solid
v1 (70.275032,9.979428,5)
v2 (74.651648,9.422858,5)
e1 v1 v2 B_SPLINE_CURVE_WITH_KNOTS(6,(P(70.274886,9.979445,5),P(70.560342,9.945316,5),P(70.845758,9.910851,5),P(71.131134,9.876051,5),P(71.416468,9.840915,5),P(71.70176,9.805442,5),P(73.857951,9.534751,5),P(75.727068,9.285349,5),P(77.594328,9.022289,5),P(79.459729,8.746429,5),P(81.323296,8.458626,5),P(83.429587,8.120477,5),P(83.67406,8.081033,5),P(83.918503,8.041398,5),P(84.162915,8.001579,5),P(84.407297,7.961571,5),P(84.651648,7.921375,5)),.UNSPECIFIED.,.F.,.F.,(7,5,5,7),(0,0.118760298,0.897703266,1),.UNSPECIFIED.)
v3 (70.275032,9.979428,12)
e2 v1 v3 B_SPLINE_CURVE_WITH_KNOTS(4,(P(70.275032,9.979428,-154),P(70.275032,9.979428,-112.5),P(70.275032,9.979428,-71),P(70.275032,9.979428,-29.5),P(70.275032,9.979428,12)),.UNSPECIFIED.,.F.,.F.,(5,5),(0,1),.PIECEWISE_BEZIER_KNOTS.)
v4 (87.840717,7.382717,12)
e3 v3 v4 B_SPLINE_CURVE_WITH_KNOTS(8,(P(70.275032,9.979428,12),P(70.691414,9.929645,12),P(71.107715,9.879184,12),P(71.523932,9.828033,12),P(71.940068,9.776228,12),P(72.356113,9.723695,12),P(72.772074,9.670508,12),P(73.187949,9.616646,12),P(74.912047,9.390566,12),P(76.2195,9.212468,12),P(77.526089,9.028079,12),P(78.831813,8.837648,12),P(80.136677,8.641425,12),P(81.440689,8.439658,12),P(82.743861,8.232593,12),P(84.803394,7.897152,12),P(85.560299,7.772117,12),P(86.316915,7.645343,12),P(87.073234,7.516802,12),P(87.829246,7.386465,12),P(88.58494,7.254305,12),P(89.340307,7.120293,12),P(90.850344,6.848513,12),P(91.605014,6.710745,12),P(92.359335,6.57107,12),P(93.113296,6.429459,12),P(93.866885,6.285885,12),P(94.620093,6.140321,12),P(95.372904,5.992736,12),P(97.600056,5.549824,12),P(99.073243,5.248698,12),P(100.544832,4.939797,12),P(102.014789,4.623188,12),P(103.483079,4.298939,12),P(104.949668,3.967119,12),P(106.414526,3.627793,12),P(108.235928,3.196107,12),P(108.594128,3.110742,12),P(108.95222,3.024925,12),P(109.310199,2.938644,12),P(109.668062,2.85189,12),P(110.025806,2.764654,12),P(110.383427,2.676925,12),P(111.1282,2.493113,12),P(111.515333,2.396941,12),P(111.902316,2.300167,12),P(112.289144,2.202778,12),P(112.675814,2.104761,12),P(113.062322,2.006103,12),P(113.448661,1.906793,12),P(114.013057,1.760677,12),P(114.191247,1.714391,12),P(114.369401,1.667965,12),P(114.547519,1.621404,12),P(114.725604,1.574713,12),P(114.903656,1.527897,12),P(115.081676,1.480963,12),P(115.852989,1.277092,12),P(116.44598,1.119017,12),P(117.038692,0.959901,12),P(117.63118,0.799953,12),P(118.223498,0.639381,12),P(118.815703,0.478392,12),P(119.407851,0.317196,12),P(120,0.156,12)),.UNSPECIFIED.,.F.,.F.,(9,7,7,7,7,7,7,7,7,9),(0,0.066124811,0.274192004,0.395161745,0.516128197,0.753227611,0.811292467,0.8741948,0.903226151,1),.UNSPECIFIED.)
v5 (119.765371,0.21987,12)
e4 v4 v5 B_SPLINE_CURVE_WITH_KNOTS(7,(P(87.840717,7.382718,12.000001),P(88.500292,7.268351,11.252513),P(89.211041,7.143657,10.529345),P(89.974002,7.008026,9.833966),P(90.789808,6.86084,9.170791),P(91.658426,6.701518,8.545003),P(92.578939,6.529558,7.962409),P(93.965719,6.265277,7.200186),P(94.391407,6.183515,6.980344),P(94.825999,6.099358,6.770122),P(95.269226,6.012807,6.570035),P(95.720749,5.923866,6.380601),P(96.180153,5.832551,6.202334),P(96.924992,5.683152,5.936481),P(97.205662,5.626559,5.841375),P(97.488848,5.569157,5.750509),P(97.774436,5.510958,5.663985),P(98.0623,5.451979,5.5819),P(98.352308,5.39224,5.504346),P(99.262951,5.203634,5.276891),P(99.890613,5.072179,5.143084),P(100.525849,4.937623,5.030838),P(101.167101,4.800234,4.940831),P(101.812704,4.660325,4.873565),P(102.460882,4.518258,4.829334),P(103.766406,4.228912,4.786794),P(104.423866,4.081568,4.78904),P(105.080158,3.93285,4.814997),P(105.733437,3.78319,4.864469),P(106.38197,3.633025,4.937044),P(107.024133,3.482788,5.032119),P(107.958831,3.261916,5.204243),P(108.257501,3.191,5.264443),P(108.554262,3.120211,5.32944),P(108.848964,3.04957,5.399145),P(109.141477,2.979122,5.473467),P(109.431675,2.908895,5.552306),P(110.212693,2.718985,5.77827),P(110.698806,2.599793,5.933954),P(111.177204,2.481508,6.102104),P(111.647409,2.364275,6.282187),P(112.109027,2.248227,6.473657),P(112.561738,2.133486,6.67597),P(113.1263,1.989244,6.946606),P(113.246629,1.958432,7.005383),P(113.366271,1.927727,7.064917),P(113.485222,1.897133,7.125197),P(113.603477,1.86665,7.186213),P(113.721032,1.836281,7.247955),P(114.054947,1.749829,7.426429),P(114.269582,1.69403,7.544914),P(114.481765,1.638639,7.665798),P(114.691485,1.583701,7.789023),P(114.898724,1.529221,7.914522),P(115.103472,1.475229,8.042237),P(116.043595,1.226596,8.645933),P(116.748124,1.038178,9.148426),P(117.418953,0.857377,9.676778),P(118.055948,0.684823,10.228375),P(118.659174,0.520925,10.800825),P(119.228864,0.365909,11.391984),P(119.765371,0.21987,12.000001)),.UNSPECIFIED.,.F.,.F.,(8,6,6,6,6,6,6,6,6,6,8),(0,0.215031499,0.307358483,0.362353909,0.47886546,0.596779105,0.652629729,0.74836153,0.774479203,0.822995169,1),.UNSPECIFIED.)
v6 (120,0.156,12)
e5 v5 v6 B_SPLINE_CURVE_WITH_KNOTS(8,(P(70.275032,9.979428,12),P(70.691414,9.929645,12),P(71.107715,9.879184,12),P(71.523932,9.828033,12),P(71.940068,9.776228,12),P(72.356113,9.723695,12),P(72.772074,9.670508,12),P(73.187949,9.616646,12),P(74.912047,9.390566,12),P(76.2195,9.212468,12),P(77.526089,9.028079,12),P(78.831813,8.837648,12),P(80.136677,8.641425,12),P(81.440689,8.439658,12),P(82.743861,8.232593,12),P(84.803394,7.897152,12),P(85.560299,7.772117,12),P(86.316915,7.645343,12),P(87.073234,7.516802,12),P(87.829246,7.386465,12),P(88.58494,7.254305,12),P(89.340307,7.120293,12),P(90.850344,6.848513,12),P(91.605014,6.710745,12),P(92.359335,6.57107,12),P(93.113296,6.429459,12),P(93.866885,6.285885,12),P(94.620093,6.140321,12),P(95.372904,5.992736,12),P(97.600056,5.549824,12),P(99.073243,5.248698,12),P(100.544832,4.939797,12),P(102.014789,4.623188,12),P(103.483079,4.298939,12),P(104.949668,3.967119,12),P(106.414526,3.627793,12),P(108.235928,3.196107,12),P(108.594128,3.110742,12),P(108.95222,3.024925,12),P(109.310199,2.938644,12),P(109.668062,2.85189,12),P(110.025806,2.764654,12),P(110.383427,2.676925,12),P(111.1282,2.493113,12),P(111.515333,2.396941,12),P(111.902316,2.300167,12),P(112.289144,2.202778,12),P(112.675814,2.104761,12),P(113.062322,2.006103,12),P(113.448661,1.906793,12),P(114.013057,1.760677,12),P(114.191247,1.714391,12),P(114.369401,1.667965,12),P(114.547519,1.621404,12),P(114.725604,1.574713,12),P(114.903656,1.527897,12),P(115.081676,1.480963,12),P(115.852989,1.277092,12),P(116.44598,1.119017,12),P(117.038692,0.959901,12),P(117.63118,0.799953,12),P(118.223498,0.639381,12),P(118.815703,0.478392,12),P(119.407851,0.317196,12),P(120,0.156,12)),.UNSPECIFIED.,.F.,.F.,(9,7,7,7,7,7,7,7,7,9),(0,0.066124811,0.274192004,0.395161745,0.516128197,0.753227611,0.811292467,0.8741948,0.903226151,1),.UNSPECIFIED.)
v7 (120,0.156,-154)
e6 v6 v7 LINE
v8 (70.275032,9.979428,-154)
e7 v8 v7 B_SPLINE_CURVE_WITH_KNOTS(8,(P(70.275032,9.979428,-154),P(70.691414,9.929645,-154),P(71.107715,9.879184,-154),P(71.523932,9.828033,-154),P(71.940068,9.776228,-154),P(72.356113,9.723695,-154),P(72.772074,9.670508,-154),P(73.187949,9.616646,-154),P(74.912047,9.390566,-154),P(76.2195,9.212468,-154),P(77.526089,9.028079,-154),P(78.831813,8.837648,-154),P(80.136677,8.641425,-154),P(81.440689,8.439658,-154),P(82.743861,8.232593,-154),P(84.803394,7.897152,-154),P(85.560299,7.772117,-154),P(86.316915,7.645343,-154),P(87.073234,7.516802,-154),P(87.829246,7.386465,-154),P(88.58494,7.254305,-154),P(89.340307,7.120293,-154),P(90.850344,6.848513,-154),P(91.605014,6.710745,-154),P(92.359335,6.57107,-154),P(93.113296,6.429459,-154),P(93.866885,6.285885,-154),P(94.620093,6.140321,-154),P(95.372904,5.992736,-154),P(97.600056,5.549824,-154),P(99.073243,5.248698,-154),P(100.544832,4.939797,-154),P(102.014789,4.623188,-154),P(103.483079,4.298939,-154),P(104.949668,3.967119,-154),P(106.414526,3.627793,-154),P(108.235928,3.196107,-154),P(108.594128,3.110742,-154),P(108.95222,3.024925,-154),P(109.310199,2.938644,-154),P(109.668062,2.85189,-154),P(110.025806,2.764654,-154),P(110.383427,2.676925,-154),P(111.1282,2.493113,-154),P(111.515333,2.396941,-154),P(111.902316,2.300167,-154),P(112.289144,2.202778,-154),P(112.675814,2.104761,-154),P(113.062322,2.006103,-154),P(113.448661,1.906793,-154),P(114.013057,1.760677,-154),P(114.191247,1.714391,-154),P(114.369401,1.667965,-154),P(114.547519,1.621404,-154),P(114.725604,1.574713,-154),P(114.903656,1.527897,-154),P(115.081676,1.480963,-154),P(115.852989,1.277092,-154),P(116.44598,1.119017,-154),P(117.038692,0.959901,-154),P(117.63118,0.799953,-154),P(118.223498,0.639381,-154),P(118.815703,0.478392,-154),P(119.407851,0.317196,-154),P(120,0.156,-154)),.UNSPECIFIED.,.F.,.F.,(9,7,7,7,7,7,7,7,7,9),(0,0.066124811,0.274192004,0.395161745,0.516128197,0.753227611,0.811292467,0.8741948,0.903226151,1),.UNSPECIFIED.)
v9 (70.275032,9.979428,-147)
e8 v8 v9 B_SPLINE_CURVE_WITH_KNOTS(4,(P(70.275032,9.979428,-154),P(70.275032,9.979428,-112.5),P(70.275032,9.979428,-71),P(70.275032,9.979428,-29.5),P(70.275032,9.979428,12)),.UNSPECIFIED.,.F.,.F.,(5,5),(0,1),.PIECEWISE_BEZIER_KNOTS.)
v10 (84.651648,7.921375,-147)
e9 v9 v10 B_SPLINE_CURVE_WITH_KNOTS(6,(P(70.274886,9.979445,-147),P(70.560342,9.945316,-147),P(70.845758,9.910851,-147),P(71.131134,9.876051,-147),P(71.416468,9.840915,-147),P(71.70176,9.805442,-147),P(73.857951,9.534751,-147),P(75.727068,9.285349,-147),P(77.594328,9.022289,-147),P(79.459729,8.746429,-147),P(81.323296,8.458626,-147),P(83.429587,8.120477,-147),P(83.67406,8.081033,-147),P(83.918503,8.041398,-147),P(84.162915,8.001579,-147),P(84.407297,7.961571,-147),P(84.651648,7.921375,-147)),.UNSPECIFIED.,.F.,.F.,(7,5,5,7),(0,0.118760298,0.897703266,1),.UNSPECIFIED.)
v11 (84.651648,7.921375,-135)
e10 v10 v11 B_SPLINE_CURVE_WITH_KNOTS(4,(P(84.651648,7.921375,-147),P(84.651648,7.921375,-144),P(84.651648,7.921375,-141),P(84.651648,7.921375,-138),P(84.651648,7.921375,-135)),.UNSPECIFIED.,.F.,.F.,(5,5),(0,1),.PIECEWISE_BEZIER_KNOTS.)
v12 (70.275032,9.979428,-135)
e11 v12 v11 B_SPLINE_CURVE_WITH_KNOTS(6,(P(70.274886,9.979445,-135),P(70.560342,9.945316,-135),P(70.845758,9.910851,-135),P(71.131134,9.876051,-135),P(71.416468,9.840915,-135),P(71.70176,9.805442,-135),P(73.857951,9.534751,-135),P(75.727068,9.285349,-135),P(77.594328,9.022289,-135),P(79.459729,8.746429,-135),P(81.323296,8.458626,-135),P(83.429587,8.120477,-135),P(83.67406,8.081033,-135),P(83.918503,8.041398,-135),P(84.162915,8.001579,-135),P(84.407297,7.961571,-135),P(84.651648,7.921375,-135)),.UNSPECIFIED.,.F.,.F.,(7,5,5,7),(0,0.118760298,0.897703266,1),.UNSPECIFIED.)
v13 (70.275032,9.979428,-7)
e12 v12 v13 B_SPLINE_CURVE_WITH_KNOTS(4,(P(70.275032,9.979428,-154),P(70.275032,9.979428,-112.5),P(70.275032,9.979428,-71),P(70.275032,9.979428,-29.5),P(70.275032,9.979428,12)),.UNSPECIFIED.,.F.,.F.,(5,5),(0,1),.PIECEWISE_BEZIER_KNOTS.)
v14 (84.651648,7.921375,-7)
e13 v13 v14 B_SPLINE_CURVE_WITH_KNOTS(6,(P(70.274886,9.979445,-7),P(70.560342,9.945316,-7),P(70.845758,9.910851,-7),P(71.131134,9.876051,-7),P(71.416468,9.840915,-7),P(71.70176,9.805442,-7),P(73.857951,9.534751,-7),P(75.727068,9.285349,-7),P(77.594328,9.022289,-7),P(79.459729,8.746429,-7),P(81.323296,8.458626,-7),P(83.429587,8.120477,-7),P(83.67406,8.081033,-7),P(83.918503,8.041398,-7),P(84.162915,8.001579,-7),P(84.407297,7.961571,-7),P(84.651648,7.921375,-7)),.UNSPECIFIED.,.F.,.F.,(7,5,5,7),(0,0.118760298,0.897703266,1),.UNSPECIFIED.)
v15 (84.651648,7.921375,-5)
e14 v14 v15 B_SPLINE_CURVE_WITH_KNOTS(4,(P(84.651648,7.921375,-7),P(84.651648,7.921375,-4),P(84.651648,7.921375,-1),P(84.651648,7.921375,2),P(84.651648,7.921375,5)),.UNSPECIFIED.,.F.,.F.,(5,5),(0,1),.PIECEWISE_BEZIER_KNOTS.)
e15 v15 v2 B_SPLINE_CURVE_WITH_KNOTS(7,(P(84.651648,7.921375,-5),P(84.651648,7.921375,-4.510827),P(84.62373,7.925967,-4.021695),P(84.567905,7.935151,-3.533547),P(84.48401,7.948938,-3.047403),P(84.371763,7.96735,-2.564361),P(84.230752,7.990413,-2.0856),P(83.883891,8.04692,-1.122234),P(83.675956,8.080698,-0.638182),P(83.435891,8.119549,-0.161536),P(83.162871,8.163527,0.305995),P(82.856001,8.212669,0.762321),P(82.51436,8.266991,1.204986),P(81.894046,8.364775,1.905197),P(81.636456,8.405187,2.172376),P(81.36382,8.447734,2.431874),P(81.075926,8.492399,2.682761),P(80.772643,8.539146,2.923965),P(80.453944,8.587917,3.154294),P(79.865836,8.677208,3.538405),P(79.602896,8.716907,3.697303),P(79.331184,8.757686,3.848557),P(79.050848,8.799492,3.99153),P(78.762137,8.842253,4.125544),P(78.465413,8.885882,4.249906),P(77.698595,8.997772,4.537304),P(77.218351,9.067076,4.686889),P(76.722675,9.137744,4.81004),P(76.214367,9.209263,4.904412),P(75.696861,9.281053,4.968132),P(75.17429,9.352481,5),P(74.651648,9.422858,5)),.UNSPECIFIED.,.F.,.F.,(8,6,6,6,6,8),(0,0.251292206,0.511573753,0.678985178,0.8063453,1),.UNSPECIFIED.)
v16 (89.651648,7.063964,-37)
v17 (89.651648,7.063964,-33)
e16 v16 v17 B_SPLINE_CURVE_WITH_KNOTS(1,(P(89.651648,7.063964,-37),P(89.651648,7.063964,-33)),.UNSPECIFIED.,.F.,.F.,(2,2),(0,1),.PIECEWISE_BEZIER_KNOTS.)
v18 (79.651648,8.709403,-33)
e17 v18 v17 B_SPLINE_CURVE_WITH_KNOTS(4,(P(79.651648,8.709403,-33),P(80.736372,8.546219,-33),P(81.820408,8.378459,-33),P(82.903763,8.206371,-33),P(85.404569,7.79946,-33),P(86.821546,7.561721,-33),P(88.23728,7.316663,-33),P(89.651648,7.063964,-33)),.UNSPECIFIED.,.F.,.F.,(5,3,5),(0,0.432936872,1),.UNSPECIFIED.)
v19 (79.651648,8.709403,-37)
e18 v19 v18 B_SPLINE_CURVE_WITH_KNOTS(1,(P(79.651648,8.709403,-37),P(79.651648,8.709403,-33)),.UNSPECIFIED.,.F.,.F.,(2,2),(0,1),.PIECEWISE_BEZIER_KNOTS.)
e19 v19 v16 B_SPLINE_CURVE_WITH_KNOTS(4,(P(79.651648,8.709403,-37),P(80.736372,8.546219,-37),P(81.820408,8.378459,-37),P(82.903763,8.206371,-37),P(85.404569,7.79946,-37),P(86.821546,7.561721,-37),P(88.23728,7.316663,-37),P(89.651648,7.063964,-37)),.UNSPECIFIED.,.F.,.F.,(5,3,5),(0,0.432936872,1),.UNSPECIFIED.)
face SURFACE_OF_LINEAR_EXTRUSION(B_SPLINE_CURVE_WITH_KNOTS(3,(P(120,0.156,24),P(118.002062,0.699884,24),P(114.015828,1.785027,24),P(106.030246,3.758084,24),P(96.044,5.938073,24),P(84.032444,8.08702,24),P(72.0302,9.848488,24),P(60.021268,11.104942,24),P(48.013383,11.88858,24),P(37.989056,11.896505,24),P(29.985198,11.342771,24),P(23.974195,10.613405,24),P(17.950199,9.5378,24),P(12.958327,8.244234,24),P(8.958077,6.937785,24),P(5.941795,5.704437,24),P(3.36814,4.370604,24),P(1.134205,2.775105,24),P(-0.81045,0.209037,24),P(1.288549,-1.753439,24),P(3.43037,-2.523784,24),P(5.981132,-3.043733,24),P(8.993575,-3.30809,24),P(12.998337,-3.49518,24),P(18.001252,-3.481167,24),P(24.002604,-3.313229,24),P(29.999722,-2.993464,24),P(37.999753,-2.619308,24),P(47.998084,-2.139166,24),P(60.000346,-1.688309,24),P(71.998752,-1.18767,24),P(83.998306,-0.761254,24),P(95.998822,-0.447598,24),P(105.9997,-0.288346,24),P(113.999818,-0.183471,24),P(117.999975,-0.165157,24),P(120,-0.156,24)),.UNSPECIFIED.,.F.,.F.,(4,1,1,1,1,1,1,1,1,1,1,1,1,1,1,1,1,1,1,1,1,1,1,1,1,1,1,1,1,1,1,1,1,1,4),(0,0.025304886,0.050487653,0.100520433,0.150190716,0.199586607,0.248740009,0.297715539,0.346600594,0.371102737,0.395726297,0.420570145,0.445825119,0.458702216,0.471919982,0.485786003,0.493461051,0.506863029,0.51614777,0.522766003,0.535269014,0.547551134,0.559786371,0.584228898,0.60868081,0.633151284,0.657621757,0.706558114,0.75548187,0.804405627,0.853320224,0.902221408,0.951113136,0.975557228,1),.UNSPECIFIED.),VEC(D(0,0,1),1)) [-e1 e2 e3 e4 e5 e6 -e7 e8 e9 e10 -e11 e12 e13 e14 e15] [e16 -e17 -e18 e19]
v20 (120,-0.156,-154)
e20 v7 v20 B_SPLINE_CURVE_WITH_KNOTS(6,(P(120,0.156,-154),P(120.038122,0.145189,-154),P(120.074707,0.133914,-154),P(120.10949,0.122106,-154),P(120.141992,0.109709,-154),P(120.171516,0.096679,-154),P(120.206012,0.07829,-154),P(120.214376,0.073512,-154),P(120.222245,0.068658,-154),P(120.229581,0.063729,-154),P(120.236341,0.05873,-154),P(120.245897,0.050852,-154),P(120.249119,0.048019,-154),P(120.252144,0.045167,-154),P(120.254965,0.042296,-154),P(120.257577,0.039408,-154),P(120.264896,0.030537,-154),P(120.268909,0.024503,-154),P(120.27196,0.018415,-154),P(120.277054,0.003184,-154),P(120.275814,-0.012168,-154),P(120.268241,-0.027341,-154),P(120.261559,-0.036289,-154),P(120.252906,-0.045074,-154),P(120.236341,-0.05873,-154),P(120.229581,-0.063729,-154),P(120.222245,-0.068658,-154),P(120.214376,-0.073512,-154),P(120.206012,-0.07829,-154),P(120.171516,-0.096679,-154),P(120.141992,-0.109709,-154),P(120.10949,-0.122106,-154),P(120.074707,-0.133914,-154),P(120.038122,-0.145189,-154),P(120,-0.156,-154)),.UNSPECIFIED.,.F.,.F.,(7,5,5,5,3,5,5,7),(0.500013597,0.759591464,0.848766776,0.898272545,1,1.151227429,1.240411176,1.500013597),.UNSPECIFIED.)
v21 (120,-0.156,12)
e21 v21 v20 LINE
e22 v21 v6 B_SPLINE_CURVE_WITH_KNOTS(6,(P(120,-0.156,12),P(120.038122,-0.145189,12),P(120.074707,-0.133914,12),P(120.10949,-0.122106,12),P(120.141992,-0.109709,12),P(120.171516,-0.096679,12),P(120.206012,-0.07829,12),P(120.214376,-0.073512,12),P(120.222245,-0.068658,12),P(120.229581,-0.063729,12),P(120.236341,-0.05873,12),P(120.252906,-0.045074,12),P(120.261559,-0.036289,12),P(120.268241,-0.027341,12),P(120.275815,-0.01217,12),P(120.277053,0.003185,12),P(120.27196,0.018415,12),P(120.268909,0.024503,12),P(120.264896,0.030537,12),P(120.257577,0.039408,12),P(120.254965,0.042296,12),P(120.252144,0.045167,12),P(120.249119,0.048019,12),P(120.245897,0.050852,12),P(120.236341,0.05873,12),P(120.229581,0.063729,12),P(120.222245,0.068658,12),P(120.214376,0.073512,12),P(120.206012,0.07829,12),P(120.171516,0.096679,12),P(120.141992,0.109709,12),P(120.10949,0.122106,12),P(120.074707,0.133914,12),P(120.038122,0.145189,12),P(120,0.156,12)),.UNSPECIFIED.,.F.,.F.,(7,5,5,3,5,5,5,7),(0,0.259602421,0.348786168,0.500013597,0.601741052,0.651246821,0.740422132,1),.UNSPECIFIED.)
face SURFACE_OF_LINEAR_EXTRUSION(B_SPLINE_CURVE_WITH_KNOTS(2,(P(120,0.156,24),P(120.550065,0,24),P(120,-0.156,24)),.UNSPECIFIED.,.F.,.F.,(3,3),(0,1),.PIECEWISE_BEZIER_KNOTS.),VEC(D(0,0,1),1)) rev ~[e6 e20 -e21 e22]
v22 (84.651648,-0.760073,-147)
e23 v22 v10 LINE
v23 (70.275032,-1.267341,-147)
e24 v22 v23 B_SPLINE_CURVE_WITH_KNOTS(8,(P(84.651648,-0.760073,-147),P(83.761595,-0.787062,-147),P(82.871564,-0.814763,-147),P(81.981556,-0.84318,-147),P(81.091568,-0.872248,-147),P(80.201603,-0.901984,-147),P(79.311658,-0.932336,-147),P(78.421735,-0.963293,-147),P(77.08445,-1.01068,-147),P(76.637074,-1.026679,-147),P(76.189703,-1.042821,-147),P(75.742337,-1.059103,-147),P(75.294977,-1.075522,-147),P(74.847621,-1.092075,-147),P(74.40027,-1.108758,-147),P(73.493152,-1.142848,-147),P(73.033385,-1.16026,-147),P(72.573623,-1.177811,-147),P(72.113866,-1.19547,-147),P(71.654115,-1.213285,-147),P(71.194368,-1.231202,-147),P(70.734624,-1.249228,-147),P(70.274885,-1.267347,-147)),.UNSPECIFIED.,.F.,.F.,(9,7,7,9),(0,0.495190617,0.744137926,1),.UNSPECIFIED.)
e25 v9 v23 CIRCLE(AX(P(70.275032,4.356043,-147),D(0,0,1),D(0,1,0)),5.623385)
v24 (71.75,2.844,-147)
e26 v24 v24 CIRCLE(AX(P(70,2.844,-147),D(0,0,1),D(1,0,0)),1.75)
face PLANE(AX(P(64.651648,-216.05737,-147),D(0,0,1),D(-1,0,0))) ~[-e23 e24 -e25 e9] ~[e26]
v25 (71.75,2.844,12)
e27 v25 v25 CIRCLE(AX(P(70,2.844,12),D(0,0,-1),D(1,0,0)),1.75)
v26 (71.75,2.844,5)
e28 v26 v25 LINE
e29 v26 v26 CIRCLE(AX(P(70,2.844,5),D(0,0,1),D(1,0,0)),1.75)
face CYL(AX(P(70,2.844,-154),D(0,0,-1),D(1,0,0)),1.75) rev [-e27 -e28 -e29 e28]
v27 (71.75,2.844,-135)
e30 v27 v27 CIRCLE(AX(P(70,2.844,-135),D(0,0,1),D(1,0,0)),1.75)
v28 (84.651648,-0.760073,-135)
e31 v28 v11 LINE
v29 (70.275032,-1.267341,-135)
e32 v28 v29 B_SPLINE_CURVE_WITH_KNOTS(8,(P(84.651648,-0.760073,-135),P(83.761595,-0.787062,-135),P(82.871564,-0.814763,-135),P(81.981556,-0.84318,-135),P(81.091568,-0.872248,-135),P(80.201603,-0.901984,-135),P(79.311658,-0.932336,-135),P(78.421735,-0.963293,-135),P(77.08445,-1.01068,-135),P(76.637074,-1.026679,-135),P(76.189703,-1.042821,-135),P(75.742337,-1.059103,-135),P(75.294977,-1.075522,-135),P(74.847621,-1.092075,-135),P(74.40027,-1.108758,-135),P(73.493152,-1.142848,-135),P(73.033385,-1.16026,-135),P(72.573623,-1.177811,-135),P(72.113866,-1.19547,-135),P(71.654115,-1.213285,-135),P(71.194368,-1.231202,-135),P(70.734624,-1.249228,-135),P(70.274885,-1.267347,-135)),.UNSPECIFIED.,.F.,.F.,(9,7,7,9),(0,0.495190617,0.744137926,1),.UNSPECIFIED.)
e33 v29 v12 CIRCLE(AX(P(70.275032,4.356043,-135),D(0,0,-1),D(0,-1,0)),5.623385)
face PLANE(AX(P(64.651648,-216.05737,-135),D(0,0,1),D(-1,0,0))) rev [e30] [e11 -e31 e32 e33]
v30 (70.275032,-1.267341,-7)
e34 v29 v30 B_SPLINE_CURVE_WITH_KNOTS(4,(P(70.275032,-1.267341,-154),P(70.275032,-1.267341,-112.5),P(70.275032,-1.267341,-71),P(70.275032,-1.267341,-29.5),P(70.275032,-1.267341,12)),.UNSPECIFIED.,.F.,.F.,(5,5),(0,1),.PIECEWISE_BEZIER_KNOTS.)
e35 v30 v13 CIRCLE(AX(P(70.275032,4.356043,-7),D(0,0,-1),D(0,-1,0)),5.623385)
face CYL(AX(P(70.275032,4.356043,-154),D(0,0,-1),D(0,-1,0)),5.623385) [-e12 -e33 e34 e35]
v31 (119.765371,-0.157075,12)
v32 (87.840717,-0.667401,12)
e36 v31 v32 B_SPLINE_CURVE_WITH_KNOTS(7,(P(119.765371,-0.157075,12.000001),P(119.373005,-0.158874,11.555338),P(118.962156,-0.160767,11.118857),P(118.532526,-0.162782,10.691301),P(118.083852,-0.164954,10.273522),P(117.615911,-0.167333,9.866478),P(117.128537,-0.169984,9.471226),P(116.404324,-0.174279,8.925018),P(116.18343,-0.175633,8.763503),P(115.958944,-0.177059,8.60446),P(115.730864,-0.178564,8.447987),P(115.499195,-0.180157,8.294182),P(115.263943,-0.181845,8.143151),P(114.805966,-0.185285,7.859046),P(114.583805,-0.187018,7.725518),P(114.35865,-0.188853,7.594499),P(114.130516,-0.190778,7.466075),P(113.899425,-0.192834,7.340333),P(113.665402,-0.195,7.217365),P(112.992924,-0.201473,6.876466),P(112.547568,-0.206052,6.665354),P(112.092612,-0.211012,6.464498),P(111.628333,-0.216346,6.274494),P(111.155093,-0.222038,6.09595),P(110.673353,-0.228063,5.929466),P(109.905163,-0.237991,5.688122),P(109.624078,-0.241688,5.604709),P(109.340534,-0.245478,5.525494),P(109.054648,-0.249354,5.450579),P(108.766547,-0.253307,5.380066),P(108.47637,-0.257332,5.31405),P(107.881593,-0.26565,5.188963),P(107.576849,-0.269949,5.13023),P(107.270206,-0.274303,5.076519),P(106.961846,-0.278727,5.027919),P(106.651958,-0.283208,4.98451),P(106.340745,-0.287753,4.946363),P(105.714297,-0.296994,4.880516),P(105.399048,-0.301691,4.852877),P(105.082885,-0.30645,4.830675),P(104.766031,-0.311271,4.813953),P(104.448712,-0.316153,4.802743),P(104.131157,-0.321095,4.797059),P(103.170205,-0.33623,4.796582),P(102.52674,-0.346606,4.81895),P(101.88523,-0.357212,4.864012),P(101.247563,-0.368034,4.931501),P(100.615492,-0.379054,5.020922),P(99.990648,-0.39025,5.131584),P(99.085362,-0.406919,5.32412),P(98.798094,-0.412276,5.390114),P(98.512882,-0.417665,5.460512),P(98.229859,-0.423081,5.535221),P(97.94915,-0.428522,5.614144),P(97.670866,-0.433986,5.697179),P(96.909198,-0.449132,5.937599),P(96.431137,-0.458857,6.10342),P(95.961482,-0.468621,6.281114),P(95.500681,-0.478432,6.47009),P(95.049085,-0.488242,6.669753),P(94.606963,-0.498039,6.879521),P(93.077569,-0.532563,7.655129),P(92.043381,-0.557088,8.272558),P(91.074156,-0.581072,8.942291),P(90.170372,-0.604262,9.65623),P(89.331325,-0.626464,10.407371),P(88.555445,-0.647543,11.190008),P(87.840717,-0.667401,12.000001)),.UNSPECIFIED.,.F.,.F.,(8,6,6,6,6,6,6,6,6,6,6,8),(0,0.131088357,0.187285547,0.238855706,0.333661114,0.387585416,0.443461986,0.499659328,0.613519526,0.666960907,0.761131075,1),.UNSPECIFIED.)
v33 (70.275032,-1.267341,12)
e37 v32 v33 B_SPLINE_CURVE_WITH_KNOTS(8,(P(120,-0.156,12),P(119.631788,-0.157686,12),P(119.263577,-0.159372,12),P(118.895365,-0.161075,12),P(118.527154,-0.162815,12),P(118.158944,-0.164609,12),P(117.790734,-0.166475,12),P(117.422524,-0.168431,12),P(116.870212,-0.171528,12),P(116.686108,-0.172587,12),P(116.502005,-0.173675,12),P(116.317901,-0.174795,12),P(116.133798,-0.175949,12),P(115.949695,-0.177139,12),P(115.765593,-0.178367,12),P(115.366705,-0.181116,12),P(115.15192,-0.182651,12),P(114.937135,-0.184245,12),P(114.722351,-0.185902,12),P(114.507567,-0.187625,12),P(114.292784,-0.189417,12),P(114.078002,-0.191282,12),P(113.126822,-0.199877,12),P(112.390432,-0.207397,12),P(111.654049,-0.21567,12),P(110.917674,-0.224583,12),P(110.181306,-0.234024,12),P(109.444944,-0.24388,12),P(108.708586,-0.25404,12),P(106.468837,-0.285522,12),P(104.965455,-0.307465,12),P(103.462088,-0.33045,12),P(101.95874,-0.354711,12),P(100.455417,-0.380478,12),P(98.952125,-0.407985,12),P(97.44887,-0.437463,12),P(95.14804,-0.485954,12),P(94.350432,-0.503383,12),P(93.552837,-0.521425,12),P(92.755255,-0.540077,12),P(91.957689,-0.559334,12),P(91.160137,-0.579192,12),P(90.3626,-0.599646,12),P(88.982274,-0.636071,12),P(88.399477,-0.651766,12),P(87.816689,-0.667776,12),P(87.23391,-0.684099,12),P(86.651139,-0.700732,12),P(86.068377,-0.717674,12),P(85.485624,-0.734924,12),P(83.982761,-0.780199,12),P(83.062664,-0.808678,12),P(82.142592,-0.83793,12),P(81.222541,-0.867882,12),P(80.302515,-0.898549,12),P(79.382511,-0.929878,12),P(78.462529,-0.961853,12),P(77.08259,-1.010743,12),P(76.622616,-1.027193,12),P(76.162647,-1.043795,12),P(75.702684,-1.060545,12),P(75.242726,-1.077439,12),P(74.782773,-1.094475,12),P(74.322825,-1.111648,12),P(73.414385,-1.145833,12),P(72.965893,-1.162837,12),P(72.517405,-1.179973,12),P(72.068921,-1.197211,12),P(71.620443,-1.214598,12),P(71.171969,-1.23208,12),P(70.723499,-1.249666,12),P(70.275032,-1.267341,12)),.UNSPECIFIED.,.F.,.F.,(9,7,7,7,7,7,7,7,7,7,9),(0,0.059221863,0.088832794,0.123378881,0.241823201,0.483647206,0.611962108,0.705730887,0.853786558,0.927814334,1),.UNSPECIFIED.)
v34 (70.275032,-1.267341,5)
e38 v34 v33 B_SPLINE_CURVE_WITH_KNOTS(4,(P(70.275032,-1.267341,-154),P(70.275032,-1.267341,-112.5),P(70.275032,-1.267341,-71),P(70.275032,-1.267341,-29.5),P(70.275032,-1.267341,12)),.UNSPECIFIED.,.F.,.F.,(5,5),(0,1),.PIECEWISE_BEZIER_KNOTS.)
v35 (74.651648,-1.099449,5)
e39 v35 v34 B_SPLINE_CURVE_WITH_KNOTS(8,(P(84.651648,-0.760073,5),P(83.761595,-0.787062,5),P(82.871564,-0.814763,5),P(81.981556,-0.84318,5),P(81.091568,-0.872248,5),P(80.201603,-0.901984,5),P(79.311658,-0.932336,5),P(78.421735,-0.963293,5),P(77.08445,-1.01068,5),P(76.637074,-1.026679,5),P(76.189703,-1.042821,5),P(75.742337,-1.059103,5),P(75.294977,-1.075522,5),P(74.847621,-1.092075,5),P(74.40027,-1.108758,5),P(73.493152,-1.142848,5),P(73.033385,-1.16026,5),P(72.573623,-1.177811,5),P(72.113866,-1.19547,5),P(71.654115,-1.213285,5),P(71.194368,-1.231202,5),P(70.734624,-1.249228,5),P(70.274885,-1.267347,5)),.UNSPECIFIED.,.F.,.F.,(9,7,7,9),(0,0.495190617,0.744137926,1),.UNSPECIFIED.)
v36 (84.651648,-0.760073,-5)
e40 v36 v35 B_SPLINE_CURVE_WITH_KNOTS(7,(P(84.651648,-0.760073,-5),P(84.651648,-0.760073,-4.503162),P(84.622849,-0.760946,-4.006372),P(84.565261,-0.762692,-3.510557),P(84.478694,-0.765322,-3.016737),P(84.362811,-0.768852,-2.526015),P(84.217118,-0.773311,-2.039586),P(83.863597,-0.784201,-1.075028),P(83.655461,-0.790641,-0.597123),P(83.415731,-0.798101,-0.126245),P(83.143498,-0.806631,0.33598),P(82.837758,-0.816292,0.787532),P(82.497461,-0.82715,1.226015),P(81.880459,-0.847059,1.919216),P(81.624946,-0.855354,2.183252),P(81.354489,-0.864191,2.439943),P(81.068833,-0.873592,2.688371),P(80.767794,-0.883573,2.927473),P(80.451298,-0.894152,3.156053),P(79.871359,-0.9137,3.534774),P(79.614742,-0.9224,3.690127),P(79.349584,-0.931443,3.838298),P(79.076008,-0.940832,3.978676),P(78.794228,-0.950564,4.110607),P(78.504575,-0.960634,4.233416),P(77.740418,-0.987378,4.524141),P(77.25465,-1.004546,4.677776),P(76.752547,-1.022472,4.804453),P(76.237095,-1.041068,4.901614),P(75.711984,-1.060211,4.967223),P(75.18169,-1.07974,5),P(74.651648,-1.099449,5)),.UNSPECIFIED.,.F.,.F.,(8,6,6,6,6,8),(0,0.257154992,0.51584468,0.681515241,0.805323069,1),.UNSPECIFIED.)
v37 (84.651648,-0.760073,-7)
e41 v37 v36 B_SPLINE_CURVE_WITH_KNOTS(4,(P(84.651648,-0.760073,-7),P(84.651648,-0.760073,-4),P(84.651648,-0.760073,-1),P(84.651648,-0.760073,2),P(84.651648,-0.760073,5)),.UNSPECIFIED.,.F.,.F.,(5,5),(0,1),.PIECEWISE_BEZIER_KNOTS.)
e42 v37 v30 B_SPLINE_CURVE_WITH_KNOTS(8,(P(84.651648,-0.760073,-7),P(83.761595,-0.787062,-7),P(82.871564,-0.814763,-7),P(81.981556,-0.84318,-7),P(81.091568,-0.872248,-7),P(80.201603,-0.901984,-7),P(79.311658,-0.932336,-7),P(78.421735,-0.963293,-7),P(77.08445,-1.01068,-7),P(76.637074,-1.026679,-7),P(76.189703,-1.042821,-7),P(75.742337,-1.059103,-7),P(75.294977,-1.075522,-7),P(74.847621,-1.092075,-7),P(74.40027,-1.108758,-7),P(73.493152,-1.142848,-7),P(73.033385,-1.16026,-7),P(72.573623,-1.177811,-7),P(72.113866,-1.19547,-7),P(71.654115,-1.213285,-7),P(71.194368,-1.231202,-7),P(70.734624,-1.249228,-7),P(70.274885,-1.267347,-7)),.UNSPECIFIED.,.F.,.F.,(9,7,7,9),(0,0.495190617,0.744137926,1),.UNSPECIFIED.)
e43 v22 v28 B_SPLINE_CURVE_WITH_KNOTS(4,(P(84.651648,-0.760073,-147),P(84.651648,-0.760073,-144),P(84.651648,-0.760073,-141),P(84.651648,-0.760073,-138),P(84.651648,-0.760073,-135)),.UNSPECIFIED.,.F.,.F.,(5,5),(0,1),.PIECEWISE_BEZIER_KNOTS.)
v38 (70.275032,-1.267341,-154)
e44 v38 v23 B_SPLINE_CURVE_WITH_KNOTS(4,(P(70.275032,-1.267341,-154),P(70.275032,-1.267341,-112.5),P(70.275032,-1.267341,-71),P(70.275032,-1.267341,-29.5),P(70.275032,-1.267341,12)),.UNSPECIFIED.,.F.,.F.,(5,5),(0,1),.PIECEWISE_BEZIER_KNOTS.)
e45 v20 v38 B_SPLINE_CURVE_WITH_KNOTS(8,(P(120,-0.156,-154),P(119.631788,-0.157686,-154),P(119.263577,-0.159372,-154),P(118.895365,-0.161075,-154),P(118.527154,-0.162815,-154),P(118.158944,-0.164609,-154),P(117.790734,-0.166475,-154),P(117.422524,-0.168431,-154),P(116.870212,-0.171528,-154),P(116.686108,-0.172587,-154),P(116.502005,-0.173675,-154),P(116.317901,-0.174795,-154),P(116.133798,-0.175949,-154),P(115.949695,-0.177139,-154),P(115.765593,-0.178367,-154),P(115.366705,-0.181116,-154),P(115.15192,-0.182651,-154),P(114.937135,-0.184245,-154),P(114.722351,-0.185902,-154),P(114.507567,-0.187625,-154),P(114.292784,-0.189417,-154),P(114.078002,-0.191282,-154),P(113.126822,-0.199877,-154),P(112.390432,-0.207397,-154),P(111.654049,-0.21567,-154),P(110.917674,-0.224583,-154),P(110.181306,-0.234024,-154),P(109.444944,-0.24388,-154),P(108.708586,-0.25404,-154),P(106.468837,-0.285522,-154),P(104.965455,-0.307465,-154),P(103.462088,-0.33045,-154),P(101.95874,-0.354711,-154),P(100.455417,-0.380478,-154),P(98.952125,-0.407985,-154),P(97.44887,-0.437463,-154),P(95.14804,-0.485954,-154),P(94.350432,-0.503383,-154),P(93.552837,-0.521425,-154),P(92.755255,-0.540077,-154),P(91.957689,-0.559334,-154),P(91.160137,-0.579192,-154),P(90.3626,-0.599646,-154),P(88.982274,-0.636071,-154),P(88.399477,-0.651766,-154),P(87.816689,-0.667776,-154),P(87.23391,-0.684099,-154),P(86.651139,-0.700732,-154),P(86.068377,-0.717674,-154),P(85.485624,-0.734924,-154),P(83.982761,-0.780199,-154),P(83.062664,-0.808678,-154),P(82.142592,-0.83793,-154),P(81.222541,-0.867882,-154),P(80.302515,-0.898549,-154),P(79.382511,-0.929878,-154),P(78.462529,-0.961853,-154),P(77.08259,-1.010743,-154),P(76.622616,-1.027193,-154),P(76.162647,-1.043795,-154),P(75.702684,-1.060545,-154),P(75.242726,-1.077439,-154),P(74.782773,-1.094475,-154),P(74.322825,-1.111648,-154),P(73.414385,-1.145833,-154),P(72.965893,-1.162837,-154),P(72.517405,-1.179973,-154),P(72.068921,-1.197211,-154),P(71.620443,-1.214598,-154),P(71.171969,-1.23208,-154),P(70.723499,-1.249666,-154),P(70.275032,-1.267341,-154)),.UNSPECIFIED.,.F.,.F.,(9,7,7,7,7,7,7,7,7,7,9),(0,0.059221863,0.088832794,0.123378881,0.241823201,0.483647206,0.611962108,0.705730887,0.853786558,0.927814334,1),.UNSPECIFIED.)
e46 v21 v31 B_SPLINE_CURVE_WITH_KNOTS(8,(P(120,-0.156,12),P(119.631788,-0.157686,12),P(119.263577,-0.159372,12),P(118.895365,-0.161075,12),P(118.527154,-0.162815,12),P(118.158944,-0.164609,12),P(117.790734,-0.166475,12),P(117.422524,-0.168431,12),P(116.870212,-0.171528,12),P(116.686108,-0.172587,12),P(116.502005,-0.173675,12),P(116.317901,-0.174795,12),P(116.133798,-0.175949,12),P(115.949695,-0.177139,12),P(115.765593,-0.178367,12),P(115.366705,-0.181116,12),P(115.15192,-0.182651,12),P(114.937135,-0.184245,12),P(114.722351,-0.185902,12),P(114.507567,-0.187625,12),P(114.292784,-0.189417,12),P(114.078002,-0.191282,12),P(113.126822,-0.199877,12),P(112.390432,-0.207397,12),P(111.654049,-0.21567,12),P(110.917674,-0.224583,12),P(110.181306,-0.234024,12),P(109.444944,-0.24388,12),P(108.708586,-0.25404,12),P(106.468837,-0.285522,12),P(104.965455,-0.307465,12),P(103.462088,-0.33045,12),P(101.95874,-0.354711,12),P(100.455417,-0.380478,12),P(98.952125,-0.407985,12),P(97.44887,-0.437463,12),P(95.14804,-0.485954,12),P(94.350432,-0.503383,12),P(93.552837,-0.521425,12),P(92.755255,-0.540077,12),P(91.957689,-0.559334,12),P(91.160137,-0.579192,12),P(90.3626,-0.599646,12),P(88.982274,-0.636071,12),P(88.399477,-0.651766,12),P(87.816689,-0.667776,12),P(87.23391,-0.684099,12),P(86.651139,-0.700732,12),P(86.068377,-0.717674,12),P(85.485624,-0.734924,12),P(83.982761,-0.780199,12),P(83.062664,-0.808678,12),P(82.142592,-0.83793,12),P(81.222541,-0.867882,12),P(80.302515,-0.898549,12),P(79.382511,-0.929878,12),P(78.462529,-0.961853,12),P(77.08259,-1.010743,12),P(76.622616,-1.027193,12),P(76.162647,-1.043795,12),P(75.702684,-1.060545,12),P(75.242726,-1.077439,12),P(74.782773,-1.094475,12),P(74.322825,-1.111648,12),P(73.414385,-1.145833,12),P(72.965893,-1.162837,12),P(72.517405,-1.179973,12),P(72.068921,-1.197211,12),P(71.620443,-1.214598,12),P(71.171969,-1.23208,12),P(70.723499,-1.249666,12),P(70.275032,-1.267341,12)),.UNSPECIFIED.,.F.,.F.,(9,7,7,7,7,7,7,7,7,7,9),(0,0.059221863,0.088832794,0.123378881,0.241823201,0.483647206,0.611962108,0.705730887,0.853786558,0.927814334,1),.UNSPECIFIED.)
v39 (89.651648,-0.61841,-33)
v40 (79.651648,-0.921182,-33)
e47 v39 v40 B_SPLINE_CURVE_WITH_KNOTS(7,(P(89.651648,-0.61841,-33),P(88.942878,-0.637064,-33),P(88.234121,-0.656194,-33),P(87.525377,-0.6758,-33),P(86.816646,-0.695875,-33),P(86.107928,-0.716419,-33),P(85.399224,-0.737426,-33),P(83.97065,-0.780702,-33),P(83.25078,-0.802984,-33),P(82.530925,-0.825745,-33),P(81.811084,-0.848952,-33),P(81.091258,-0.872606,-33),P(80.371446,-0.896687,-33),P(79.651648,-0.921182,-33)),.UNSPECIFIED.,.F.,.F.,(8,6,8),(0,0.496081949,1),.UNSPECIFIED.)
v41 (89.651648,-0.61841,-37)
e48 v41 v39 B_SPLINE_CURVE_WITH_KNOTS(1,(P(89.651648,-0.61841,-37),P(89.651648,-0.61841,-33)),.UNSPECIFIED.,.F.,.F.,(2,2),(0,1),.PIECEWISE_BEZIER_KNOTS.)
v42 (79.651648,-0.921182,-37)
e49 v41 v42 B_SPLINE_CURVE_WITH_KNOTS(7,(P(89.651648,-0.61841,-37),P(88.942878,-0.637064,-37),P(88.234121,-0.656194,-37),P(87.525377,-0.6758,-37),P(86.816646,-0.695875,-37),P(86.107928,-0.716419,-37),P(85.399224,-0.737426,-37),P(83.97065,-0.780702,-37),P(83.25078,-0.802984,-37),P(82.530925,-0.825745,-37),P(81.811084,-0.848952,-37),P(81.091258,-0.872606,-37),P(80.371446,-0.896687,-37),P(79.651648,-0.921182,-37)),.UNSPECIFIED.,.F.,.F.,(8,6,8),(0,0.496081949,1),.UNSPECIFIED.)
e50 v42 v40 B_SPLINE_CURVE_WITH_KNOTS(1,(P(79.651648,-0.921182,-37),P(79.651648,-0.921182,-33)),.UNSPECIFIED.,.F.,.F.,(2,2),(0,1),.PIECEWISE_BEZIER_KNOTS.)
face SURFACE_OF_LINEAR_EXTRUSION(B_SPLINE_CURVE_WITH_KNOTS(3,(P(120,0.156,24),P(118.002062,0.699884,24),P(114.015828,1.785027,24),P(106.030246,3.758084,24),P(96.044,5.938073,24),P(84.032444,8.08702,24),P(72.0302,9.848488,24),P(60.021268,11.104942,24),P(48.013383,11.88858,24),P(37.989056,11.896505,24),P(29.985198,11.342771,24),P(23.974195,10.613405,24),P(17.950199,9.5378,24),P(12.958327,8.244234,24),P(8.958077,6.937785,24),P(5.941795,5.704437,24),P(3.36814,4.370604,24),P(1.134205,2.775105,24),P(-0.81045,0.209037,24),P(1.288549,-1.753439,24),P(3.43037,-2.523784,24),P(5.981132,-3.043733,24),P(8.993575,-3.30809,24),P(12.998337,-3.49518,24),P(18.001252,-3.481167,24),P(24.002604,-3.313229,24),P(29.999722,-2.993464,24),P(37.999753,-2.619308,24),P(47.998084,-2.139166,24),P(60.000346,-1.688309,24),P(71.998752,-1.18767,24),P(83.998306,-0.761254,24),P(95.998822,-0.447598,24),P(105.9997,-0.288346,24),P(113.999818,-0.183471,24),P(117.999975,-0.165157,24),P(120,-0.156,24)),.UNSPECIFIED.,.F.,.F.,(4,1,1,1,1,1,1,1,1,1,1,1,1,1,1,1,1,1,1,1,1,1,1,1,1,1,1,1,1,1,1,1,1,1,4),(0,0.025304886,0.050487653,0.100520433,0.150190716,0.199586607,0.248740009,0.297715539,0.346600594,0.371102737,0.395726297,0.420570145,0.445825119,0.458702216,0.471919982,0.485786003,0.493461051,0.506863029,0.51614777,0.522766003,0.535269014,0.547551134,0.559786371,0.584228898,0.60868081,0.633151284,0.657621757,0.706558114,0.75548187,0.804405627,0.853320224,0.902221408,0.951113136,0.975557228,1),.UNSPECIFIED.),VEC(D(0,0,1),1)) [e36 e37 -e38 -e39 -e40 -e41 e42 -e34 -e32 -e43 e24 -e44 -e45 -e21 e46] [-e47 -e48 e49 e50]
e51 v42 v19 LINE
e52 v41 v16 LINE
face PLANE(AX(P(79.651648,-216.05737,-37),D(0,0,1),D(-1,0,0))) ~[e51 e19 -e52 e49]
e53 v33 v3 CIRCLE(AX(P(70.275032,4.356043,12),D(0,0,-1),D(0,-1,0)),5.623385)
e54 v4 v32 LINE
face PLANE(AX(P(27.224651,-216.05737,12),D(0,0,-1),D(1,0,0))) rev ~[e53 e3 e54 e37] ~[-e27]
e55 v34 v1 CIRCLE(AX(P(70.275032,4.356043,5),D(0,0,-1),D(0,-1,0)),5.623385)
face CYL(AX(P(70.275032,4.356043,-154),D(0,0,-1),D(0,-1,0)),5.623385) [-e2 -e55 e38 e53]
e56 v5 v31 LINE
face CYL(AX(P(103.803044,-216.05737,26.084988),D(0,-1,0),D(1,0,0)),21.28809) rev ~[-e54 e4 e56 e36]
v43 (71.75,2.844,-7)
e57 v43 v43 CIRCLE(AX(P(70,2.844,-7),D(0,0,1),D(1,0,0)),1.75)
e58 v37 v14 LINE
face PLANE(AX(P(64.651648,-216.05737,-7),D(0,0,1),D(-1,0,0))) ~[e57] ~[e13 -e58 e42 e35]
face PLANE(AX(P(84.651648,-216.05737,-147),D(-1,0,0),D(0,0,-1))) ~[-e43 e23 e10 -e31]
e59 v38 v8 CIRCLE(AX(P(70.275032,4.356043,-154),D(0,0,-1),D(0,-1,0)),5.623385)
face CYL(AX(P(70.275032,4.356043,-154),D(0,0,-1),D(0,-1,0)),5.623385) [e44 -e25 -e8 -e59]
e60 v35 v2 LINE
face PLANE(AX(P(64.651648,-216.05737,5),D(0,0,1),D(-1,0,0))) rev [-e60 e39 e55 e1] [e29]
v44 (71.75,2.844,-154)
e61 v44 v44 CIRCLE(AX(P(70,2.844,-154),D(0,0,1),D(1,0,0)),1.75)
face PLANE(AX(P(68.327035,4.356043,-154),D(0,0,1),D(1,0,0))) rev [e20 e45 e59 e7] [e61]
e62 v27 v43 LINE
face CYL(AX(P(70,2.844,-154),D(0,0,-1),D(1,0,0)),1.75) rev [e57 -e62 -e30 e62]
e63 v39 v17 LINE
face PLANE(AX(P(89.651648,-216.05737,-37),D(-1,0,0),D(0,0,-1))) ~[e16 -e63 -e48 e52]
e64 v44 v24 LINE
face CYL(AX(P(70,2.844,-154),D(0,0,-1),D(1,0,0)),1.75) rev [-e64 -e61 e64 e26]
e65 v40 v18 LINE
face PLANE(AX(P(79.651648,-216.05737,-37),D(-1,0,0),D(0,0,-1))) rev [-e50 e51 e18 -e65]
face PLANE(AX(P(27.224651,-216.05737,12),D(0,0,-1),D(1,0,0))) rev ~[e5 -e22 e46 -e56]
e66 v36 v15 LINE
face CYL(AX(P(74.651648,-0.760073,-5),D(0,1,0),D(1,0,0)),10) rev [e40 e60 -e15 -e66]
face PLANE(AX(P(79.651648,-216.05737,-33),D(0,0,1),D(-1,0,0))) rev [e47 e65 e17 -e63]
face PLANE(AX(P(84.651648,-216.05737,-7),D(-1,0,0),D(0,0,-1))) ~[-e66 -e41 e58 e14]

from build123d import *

# Parameters (mm, degrees)
EXTRUDE_1_DEPTH          = 185
SKETCH_2_R               = 3.25
CUT_EXTRUDE_1_DEPTH      = 221.978766148
CUT_EXTRUDE_2_DEPTH      = 221.978766148
CUT_EXTRUDE_2_DEPTH_BACK = 221.978766148
EXTRUDE_2_DEPTH          = 166
SKETCH_6_R               = 1.75
CUT_EXTRUDE_3_DEPTH      = 206.235651098
CUT_EXTRUDE_4_DEPTH      = 216.057370215
CUT_EXTRUDE_4_DEPTH_BACK = 216.057370215
SKETCH_7_W               = 10
SKETCH_7_H               = 4
SKETCH_7_W_2             = 20
SKETCH_7_H_2             = 12
CUT_EXTRUDE_6_DEPTH      = 216.057370215
CUT_EXTRUDE_6_DEPTH_BACK = 216.057370215
SKETCH_9_R               = 21.288089845
FILLET_1_R               = 10
CUT_EXTRUDE_7_DEPTH      = 216.057370215
CUT_EXTRUDE_7_DEPTH_BACK = 216.057370215
SKETCH_10_W              = 131.862642568
SKETCH_10_H              = 171.330673695


with BuildPart() as part:
    # 草圖4 → 填料-伸長1 (new body)
    with BuildSketch(Plane.XY):
        with BuildLine():
            add(Edge.make_bspline(
                [(120, 0.156), (120.550064826, 0), (120, -0.156)],
                knots=[0, 0, 0, 1, 1, 1], degree=2))
            add(Edge.make_bspline(
                [(120, 0.156), (118.002062038, 0.699883829), (114.015827899, 1.785026774), (106.030245524, 3.758084328), (96.043999536, 5.938072944), (84.032443886, 8.087020219), (72.030199863, 9.848487706), (60.021268297, 11.104941512), (48.013383082, 11.888579605), (37.989056271, 11.896504921), (29.98519837, 11.342771412), (23.974194566, 10.613404695), (17.950199351, 9.537800408), (12.958326827, 8.244233687), (8.958076554, 6.937785184), (5.941795374, 5.704437414), (3.368139922, 4.370604372), (1.134204878, 2.77510484), (-0.810450078, 0.209036715), (1.28854905, -1.753439419), (3.430370135, -2.523784281), (5.981131747, -3.043733145), (8.993574888, -3.308089705), (12.998336856, -3.495180047), (18.001252309, -3.481166853), (24.002604177, -3.313228981), (29.999721531, -2.993463999), (37.999752898, -2.619308415), (47.998084378, -2.139166009), (60.000346089, -1.688308544), (71.998752124, -1.187669763), (83.99830623, -0.761253895), (95.998821653, -0.44759827), (105.999699706, -0.288346287), (113.999817607, -0.183470629), (117.999975201, -0.165156712), (120, -0.156)],
                knots=[0, 0, 0, 0, 0.025304886, 0.050487653, 0.100520433, 0.150190716, 0.199586607, 0.248740009, 0.297715539, 0.346600594, 0.371102737, 0.395726297, 0.420570145, 0.445825119, 0.458702216, 0.471919982, 0.485786003, 0.493461051, 0.506863029, 0.51614777, 0.522766003, 0.535269014, 0.547551134, 0.559786371, 0.584228898, 0.60868081, 0.633151284, 0.657621757, 0.706558114, 0.75548187, 0.804405627, 0.853320224, 0.902221408, 0.951113136, 0.975557228, 1, 1, 1, 1], degree=3))
        make_face()
    extrude(amount=EXTRUDE_1_DEPTH)

    # 草圖2 → 除料-伸長1 (cut, through all)
    with BuildSketch(Plane(origin=(0, 0, 0), x_dir=(-1, 0, 0), z_dir=(0, 0, -1))):
        with Locations((-25, 5)):
            Circle(SKETCH_2_R)
        with Locations((-50, 5)):
            Circle(SKETCH_2_R)
    extrude(amount=-CUT_EXTRUDE_1_DEPTH, mode=Mode.SUBTRACT)

    # 草圖3 → 除料-伸長2 (cut, two sides: drawn at the far end of the back side and taken through both)
    with BuildSketch(Plane(origin=(0, 0, 0), x_dir=(1, 0, 0), z_dir=(0, 1, 0)).offset(-CUT_EXTRUDE_2_DEPTH_BACK)):
        Polygon((70.275032413, -12), (120.275032413, -12), (166.480451747, 19.353311424), (-21.771072244, 70.933366938), (-60.731552483, -48.361554858), (-45.023238503, -192.444996011), (84.857900861, -230.57523876), (139.860309741, -200.53846228), (120.275032413, -178), (70.275032413, -178), align=None)
    extrude(amount=CUT_EXTRUDE_2_DEPTH + CUT_EXTRUDE_2_DEPTH_BACK, mode=Mode.SUBTRACT)

    # 草圖5 → 填料-伸長2 (add, through all)
    with BuildSketch(Plane.XY.offset(178)):
        with BuildLine():
            Line((70.275032413, 9.979427787), (70.275032413, -1.267341491))
            ThreePointArc((70.275032413, -1.267341491), (64.651647774, 4.356043148), (70.275032413, 9.979427787))
        make_face()
    extrude(amount=-EXTRUDE_2_DEPTH)

    # 草圖6 → 除料-伸長3 (cut, through all)
    with BuildSketch(Plane.XY.offset(178)):
        with Locations((70, 2.844)):
            Circle(SKETCH_6_R)
    extrude(amount=-CUT_EXTRUDE_3_DEPTH, mode=Mode.SUBTRACT)

    # 草圖7 → 除料-伸長4 (cut, two sides: drawn at the far end of the back side and taken through both)
    with BuildSketch(Plane(origin=(0, 0, 0), x_dir=(1, 0, 0), z_dir=(0, 1, 0)).offset(-CUT_EXTRUDE_4_DEPTH_BACK)):
        with Locations((84.651647774, -59)):
            Rectangle(SKETCH_7_W, SKETCH_7_H)
        with Locations((74.651647774, -25)):
            Rectangle(SKETCH_7_W_2, SKETCH_7_H_2)
        with Locations((74.651647774, -165)):
            Rectangle(SKETCH_7_W_2, SKETCH_7_H_2)
    extrude(amount=CUT_EXTRUDE_4_DEPTH + CUT_EXTRUDE_4_DEPTH_BACK, mode=Mode.SUBTRACT)

    # 草圖9 → 除料-伸長6 (cut, two sides: drawn at the far end of the back side and taken through both)
    with BuildSketch(Plane(origin=(0, 0, 0), x_dir=(1, 0, 0), z_dir=(0, 1, 0)).offset(-CUT_EXTRUDE_6_DEPTH_BACK)):
        with Locations((103.803043975, 2.084988425)):
            Circle(SKETCH_9_R)
    extrude(amount=CUT_EXTRUDE_6_DEPTH + CUT_EXTRUDE_6_DEPTH_BACK, mode=Mode.SUBTRACT)

    # 圓角1
    fillet_1_edges = [part.edges().sort_by_distance(p)[0] for p in [
        (84.651647774, 3.58065081, 19),
    ]]
    fillet(fillet_1_edges, radius=FILLET_1_R)

    # 鏡射1: part across plane


with BuildPart() as part_1:
    add(part.part)
    add(part.part.mirror(Plane(origin=(70.275032413, -3.495180047, 12), x_dir=(1, 0, 0), z_dir=(0, 0, 1))))

    # 草圖10 → 除料-伸長7 (cut, two sides: drawn at the far end of the back side and taken through both)
    with BuildSketch(Plane(origin=(0, 0, 0), x_dir=(1, 0, 0), z_dir=(0, 1, 0)).offset(-CUT_EXTRUDE_7_DEPTH_BACK)):
        with Locations((93.155972117, -97.665336848)):
            Rectangle(SKETCH_10_W, SKETCH_10_H)
    extrude(amount=CUT_EXTRUDE_7_DEPTH + CUT_EXTRUDE_7_DEPTH_BACK, mode=Mode.SUBTRACT)


solid = part_1.part
